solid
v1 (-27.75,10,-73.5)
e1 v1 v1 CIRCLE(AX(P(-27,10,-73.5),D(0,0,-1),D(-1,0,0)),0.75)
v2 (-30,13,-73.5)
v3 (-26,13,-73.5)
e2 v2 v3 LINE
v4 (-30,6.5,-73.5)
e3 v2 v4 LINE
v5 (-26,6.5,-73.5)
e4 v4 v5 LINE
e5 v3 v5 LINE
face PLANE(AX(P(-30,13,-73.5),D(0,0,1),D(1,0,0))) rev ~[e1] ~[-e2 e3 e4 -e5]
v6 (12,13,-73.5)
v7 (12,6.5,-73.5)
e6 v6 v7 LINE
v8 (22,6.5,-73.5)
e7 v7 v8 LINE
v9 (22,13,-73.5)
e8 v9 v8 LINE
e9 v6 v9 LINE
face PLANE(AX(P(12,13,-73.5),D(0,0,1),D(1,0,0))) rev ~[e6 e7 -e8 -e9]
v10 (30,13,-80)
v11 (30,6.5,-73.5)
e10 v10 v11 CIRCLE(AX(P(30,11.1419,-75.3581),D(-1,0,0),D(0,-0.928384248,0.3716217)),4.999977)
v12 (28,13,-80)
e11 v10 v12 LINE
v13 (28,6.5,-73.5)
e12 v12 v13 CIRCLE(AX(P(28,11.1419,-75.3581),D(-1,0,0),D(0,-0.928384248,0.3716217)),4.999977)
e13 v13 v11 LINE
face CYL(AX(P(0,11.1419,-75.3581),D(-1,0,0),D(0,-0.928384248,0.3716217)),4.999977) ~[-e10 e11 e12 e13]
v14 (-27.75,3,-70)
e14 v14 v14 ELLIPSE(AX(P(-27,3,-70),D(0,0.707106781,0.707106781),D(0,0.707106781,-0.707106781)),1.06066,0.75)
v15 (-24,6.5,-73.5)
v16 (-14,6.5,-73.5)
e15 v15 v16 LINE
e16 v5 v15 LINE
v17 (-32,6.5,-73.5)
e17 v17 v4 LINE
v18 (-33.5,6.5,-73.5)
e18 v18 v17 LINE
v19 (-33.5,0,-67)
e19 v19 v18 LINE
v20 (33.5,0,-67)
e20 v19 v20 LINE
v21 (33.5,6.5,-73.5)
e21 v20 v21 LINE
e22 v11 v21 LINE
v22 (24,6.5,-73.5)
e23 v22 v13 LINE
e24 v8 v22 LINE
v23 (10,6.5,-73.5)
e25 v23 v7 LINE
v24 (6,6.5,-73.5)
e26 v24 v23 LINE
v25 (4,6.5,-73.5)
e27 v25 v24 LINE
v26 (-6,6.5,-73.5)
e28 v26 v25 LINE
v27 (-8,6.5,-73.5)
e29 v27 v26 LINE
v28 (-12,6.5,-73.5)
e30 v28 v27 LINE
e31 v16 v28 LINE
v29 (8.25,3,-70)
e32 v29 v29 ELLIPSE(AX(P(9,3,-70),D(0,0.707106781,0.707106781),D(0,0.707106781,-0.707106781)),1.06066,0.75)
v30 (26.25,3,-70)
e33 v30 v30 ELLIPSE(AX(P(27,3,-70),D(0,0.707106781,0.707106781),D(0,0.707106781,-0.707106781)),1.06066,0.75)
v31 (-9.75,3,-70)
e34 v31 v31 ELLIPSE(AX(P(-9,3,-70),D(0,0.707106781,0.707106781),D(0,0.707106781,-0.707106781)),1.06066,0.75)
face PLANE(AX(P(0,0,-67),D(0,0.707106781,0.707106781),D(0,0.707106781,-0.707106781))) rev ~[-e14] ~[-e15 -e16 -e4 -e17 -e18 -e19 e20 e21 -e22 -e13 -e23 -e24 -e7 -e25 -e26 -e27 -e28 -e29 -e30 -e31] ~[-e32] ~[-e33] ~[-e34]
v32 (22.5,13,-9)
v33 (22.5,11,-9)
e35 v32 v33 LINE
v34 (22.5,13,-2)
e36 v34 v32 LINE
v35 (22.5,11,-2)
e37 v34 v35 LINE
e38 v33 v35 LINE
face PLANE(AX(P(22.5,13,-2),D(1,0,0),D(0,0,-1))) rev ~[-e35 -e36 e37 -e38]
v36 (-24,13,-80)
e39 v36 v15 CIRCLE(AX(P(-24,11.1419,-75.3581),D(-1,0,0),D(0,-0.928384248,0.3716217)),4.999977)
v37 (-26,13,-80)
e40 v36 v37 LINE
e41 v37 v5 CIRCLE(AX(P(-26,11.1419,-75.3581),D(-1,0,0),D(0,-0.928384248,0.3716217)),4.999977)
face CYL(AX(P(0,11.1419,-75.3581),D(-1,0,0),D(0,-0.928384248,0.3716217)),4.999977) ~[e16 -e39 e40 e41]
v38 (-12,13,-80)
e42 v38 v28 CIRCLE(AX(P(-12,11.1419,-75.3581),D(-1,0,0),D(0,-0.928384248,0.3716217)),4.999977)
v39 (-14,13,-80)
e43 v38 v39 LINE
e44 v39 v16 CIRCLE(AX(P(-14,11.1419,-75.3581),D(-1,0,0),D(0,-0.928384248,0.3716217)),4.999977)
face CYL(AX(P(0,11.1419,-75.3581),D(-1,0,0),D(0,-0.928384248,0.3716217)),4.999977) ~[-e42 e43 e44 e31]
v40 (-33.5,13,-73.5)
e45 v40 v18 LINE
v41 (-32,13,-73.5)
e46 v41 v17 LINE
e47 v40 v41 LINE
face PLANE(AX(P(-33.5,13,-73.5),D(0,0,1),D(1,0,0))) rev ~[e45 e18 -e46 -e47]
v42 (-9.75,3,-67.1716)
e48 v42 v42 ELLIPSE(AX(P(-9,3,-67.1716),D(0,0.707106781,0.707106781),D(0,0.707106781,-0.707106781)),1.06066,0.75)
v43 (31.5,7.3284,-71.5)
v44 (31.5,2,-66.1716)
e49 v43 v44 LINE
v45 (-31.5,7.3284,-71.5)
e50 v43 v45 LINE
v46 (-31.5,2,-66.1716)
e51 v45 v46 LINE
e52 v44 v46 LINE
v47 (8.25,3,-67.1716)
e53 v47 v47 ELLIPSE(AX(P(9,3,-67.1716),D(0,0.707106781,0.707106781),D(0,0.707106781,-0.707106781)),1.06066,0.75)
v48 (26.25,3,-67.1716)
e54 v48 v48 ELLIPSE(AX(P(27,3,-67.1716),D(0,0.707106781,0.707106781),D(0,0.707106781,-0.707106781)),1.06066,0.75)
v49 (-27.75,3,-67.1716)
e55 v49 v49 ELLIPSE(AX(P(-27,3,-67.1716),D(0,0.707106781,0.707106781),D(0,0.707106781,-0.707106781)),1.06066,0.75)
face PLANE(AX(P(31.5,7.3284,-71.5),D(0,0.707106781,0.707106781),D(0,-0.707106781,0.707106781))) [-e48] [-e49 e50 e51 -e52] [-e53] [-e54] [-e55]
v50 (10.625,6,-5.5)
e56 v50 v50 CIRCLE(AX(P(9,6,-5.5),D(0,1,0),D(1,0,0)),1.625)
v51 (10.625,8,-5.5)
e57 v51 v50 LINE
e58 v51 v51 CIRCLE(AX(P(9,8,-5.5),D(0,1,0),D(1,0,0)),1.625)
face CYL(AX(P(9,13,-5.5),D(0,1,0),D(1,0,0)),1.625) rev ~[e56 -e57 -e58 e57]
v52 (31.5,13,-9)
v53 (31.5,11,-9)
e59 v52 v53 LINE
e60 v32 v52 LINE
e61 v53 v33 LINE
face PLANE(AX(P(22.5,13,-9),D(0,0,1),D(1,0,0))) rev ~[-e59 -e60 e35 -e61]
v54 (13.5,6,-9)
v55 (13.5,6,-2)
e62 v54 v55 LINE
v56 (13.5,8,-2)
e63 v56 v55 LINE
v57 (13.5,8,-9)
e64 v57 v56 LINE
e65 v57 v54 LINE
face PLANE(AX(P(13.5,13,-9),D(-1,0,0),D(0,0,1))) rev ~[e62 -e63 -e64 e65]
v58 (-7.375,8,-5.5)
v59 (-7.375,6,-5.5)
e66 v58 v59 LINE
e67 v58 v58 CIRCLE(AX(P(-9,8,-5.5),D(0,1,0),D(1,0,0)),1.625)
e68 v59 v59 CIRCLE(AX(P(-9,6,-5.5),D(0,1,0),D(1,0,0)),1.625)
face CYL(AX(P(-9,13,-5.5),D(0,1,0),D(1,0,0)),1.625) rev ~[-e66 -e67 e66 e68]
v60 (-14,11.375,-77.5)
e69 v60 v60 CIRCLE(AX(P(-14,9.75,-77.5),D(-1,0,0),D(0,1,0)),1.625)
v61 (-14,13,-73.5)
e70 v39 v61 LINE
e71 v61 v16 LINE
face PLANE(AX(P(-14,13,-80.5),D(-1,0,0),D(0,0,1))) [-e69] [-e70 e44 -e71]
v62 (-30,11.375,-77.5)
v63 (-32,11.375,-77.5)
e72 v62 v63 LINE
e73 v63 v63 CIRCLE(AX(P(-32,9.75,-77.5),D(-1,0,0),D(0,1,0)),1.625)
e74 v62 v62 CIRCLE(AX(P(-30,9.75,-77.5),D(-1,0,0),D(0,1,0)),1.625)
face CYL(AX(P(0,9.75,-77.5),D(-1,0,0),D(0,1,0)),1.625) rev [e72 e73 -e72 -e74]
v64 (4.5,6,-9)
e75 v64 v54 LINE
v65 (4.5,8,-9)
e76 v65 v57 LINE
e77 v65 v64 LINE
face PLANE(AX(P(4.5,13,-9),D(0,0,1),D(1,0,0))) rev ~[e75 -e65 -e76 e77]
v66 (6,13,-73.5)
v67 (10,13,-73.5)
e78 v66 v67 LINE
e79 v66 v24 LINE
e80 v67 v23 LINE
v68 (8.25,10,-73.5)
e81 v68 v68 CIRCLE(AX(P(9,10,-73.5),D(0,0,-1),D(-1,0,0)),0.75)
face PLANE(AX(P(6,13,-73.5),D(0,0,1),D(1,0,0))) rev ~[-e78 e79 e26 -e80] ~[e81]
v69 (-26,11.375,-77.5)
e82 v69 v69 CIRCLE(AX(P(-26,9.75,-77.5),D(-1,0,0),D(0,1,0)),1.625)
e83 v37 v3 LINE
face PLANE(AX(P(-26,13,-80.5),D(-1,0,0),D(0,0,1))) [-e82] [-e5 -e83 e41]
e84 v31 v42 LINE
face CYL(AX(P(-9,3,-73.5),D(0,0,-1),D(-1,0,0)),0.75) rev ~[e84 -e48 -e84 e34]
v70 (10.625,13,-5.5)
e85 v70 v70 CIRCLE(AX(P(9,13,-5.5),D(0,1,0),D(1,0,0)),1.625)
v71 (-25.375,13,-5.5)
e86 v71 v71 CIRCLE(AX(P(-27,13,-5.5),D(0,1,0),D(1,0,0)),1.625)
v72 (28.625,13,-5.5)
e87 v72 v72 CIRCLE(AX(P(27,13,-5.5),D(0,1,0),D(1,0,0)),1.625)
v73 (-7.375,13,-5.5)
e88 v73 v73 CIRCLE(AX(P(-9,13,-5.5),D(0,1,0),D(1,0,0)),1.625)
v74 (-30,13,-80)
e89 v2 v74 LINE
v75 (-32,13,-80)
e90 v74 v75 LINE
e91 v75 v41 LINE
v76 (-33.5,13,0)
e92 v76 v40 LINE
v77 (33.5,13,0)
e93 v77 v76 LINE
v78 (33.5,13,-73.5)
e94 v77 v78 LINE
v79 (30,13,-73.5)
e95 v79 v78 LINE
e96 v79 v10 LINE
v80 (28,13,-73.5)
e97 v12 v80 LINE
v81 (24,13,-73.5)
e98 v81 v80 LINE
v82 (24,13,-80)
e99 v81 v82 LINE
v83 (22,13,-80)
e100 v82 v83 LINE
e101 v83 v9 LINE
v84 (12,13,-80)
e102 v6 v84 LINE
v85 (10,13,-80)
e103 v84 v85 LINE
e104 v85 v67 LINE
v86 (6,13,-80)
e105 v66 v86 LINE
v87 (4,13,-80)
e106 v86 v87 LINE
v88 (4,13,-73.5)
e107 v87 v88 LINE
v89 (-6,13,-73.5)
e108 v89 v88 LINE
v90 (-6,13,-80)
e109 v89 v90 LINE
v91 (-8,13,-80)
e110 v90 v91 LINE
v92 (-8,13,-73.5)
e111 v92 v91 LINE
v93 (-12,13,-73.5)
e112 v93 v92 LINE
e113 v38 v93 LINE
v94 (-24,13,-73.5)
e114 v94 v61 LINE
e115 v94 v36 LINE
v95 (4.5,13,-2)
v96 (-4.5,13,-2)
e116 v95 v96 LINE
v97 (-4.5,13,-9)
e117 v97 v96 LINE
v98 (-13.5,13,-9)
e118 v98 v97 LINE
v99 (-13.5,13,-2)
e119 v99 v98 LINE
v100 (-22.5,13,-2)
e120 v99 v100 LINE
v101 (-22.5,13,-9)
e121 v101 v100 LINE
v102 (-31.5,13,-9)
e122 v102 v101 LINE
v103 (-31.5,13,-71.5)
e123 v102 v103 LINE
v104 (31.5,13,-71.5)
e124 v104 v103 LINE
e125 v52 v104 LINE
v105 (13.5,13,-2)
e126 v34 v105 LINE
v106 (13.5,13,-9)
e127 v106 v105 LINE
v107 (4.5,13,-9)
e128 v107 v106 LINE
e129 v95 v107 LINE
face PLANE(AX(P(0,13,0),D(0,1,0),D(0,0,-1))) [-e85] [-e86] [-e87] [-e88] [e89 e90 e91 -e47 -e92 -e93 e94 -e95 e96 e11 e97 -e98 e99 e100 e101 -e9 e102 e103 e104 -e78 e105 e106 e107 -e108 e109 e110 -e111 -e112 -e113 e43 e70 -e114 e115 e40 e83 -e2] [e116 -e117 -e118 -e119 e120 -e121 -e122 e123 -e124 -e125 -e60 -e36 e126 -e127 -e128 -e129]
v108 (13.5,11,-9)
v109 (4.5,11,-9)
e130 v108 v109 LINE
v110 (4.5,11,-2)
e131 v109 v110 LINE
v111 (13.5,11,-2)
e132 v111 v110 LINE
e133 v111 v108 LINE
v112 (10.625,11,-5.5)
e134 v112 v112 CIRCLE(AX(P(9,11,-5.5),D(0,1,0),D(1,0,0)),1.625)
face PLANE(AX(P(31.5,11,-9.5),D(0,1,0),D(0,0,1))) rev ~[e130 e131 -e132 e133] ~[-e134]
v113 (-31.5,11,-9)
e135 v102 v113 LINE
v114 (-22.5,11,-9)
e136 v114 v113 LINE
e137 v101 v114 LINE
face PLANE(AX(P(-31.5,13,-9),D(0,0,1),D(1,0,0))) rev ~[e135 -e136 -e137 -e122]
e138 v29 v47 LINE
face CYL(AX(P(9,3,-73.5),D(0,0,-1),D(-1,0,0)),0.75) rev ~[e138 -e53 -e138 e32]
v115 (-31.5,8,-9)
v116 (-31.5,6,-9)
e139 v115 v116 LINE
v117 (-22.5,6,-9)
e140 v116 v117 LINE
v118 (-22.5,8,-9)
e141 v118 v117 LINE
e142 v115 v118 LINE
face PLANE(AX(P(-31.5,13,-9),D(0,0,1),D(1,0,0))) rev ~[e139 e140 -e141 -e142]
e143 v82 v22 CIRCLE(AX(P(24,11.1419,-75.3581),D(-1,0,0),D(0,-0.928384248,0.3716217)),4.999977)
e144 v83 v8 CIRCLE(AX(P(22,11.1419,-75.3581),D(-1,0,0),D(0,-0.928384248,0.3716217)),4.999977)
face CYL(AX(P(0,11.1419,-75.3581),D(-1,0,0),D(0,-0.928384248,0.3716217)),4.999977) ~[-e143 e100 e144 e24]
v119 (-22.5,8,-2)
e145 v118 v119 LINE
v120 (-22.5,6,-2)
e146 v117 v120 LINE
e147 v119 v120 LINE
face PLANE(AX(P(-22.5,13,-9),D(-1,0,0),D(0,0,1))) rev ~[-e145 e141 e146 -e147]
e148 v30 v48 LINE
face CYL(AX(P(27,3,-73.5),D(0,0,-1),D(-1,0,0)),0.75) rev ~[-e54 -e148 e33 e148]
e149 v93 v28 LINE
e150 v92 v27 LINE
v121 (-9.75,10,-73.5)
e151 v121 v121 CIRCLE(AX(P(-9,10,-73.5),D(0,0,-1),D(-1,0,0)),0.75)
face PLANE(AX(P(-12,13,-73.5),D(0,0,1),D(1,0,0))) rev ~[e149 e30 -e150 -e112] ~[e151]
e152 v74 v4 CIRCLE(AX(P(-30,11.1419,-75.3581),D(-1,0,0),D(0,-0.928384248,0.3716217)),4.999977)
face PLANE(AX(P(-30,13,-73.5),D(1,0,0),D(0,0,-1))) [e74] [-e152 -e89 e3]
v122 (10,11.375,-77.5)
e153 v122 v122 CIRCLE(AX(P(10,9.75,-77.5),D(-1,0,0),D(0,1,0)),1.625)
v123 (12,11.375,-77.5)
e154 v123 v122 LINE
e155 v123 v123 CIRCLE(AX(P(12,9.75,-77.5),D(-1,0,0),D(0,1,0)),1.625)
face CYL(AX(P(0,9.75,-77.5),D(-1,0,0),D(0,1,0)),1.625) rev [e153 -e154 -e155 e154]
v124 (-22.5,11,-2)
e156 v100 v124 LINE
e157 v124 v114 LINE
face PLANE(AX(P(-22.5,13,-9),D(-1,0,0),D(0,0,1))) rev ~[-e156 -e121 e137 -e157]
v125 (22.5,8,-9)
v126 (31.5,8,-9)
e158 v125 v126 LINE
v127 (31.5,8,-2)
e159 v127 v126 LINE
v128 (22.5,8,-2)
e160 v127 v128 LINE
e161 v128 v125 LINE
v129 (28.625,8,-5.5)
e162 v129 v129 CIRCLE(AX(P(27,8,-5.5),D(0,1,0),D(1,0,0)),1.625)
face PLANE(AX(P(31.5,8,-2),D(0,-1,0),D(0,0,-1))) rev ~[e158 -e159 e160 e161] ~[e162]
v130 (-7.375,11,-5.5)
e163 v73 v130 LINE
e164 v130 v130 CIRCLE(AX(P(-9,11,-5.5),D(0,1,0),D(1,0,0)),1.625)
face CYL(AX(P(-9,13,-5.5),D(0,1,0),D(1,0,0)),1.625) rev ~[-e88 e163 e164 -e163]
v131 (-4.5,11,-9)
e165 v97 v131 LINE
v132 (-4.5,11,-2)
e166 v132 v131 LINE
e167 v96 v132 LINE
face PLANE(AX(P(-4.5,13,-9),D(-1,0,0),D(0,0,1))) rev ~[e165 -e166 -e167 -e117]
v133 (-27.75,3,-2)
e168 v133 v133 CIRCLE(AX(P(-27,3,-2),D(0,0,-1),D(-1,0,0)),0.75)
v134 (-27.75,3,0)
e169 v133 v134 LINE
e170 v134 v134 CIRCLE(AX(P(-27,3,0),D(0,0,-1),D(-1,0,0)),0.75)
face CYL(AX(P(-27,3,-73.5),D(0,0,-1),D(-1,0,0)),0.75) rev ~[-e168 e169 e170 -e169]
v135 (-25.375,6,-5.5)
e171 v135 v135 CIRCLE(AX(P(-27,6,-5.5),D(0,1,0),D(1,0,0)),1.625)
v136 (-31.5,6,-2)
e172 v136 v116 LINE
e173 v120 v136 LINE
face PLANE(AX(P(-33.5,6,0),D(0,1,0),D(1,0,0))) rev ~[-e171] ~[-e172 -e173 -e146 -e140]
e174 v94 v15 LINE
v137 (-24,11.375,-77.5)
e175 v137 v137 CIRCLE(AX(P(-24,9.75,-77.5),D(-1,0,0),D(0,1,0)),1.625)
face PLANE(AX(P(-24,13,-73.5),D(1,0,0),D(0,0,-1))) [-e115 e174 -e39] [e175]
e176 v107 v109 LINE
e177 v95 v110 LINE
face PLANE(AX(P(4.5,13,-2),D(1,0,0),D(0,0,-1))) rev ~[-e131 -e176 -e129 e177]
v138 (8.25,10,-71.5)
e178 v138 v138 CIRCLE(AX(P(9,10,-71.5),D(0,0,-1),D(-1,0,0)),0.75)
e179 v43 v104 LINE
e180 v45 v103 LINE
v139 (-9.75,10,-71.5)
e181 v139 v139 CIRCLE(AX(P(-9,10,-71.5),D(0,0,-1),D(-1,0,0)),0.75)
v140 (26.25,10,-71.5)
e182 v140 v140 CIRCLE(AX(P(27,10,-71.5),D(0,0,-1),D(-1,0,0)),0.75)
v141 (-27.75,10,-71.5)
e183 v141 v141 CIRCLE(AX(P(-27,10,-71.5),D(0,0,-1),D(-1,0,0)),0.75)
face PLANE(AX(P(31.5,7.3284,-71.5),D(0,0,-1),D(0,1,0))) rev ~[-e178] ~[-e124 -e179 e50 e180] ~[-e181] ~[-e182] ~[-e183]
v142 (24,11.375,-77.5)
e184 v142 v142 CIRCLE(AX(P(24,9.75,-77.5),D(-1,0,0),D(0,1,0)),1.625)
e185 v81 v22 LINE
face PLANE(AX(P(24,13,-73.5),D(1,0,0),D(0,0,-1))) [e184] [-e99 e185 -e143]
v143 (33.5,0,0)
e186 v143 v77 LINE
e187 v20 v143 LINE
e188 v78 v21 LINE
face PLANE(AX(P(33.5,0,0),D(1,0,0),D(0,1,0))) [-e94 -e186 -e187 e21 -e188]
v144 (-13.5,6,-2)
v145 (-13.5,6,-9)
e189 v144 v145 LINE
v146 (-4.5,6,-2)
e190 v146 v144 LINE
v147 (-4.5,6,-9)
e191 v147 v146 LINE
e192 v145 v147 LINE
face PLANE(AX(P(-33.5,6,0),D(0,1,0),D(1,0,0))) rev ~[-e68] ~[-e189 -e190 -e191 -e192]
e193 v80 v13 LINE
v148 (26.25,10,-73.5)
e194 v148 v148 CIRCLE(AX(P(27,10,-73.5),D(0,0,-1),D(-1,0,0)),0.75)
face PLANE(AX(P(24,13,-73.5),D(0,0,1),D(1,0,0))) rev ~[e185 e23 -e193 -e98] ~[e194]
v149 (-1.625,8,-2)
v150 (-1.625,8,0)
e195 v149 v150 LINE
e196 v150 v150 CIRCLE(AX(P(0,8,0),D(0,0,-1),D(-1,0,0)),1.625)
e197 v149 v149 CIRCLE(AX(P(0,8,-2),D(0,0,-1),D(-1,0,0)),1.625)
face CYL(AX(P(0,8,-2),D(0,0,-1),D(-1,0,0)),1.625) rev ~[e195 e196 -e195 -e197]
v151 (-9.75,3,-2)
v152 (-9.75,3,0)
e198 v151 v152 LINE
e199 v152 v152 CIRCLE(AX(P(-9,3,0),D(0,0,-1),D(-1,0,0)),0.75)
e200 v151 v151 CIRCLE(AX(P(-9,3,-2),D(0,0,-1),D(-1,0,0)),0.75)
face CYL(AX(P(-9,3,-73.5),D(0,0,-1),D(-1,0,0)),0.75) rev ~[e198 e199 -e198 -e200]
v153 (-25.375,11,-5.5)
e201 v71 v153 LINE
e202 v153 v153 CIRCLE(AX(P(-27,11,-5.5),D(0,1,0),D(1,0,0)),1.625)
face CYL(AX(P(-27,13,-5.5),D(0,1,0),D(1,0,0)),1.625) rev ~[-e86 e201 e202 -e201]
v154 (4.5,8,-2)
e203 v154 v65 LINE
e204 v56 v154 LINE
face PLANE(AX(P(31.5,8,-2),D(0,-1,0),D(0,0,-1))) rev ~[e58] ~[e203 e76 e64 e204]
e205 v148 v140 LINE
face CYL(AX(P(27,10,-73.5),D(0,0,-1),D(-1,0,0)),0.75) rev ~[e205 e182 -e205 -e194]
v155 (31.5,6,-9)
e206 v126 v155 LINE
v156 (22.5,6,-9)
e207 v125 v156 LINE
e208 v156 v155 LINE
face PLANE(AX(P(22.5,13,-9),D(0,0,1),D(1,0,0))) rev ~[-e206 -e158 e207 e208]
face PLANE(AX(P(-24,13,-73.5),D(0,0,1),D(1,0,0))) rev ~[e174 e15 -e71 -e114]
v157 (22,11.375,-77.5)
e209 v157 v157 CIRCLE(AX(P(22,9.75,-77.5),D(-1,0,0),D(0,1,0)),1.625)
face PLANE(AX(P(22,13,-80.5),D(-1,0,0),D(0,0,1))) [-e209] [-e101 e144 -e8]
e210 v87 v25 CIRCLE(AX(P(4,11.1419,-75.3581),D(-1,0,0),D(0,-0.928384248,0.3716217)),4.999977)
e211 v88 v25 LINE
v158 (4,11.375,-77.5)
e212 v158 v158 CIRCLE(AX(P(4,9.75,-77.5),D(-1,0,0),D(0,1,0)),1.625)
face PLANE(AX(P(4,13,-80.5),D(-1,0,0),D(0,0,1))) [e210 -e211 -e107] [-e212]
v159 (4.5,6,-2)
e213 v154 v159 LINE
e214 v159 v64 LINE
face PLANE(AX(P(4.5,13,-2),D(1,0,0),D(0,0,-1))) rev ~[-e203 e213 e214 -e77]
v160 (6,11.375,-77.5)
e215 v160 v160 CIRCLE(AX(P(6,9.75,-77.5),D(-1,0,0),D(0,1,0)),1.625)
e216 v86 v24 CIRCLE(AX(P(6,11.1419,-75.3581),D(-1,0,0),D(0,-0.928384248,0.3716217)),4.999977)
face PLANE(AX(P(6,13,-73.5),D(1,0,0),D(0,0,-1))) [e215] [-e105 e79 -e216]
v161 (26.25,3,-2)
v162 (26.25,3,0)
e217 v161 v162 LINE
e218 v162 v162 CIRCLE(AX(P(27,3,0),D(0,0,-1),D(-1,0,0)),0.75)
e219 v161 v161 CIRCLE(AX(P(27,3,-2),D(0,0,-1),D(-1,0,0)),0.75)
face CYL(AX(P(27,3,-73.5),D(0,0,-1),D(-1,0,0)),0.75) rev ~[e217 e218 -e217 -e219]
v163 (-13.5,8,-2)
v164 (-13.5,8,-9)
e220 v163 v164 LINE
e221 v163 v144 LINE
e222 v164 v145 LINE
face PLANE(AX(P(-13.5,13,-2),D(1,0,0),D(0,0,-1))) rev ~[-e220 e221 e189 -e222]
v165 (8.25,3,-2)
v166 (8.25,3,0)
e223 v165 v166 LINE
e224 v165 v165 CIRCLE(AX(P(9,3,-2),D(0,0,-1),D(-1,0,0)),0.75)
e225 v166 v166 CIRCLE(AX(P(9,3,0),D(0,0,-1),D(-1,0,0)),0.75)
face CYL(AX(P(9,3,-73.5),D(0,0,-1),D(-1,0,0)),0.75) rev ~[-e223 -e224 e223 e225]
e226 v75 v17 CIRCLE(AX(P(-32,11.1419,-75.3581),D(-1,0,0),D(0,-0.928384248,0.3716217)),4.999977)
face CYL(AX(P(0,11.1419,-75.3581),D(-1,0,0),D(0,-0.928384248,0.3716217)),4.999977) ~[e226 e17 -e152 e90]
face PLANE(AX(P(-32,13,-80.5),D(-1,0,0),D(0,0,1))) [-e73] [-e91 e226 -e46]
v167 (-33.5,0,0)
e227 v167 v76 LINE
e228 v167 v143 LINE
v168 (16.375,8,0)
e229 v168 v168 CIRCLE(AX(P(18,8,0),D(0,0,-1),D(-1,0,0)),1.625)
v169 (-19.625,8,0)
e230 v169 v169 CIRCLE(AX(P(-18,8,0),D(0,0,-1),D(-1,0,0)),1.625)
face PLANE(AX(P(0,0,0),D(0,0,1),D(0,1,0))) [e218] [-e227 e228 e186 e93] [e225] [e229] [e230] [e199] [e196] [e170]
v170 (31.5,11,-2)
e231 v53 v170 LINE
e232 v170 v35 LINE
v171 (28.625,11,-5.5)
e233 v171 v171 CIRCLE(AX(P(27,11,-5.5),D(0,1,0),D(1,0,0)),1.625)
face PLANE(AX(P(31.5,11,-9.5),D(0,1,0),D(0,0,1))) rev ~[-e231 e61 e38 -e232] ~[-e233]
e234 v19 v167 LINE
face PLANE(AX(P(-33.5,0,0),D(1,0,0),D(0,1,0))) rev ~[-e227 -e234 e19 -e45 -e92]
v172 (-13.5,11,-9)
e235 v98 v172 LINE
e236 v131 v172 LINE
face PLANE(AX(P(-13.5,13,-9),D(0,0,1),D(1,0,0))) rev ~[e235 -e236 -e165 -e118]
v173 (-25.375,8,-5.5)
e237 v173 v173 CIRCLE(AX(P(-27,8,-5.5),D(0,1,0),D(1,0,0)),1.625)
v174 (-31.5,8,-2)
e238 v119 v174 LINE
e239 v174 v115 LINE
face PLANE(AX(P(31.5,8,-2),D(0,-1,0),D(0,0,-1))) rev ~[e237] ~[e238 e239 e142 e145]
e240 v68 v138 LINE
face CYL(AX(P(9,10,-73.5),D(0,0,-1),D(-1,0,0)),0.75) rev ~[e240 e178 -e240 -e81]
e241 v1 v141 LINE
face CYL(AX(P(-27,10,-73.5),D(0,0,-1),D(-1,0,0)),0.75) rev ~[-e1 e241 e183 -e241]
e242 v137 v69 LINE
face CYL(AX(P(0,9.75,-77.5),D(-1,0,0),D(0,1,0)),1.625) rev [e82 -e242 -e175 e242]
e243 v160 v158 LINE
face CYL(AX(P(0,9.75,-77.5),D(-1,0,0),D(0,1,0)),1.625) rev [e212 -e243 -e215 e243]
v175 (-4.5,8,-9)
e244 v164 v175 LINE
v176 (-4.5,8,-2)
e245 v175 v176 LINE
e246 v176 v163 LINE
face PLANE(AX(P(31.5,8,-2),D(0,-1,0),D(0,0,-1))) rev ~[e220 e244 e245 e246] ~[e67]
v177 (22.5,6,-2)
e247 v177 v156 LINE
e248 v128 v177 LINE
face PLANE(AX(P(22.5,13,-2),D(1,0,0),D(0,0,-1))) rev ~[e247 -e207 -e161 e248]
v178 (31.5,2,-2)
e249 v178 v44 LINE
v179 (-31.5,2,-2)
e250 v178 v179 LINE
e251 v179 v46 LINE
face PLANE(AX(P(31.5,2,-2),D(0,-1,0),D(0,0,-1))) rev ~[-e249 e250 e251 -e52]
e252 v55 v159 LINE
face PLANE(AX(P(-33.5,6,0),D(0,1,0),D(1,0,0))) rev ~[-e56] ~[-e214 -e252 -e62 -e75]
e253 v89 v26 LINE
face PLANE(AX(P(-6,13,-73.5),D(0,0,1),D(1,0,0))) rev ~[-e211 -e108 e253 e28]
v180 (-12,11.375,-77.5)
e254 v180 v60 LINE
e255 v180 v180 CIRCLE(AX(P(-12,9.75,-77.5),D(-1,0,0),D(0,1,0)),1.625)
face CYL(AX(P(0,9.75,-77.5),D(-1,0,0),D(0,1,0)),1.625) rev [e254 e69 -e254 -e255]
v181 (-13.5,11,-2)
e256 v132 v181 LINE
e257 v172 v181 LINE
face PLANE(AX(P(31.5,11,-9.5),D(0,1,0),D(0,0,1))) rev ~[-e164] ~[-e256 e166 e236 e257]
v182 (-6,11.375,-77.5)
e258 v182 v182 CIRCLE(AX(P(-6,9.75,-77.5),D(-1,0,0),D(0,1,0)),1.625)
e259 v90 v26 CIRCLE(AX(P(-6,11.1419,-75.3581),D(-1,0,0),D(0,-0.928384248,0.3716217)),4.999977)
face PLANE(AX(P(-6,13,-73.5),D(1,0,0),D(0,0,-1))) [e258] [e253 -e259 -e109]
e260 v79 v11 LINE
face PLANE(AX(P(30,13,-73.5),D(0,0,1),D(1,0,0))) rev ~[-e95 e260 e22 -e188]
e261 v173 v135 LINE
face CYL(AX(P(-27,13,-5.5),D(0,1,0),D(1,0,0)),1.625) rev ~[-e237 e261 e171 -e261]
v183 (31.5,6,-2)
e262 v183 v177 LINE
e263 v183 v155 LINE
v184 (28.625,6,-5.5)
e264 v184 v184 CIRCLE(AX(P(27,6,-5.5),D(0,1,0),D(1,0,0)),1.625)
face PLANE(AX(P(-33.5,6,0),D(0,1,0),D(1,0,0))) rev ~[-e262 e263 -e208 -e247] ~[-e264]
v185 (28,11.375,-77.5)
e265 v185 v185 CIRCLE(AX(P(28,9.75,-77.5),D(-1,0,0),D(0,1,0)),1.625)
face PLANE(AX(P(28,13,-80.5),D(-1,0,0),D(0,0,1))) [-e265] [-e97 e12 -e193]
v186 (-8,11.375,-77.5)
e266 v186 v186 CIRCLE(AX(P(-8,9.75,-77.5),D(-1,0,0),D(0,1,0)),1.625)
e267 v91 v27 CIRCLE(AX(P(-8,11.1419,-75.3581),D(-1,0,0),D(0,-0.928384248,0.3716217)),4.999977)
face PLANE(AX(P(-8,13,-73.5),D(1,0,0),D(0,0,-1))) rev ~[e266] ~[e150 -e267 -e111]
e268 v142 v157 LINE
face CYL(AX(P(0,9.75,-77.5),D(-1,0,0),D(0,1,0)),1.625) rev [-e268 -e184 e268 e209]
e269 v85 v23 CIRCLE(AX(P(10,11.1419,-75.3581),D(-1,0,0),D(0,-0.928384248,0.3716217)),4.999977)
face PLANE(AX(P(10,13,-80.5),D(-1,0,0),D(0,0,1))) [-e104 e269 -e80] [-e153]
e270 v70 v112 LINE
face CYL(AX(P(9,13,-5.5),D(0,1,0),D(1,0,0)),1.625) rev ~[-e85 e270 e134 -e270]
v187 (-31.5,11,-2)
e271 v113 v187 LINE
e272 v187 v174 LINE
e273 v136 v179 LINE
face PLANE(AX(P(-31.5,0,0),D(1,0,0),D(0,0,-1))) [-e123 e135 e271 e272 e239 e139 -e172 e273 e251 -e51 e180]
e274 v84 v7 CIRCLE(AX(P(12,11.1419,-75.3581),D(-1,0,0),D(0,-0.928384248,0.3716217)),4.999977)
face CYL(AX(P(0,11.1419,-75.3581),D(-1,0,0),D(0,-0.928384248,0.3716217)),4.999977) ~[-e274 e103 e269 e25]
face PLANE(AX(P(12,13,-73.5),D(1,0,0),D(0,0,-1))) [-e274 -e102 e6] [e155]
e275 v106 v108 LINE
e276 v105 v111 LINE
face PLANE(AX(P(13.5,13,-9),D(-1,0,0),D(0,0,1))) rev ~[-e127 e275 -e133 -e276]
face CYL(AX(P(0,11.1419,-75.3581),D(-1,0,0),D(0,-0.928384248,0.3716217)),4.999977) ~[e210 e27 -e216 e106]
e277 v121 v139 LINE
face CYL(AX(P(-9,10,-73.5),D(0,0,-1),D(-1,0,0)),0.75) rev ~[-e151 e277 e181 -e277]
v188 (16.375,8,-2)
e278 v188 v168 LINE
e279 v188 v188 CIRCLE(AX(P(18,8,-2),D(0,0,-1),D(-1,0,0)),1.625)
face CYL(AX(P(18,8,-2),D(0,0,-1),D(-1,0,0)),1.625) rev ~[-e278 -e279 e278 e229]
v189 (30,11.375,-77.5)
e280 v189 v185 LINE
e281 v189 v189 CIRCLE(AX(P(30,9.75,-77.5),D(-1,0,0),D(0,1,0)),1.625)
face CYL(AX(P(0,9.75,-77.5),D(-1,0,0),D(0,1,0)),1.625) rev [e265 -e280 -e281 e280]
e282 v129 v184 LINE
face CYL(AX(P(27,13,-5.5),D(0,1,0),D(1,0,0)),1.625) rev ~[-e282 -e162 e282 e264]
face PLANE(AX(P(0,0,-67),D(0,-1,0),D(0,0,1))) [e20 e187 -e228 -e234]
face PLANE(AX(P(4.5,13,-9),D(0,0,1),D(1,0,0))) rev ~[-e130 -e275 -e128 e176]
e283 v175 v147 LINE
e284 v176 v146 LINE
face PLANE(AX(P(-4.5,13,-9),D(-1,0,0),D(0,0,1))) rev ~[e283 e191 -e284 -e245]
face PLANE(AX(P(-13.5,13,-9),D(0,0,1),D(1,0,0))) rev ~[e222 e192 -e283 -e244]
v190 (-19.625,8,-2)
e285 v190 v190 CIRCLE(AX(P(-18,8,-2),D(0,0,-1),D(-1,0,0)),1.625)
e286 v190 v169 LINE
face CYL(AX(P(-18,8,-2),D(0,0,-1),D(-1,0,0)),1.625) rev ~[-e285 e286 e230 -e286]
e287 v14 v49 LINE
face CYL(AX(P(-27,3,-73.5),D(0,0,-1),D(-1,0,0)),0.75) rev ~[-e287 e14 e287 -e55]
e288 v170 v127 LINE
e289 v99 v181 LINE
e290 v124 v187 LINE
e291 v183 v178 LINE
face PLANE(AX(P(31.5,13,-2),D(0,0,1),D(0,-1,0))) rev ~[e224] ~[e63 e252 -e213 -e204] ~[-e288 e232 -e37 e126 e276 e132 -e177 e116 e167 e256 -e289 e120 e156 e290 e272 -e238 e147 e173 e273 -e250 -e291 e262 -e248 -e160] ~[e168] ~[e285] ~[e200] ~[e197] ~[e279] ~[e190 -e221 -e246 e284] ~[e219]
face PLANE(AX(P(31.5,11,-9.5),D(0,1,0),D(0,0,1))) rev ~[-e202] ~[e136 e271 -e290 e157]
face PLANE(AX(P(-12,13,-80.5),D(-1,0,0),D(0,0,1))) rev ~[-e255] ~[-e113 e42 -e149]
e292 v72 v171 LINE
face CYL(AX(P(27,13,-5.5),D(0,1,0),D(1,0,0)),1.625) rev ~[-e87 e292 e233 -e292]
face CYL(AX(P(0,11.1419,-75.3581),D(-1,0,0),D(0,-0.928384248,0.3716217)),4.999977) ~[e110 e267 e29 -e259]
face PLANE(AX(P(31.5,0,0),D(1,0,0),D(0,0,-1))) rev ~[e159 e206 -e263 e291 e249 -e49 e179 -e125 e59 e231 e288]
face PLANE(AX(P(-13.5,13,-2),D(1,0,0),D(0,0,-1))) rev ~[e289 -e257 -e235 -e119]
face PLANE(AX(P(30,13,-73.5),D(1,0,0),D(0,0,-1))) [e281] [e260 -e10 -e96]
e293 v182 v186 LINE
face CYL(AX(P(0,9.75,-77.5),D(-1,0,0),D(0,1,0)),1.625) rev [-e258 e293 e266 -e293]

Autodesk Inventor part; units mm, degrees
ref_plane "YZ Plane" through (0, 0, 0) normal (1, 0, 0) x (0, 1, 0)
sketch "Sketch1" plane through (0, 0, 0) normal (1, 0, 0) x (0, 1, 0)
  line L0 (-2.6, 0) -> (15.6, 0) projected
  line L1 (0, -98.5723) -> (0, 16.4287) projected
  line L2 (13, 0) -> (0, 0)
  line L3 (13, 0) -> (13, -80)
  line L4 (0, 0) -> (0, -67)
  line L5 (0, -67) -> (6.5, -73.5)
  line L6 (0, -67) -> (9.1924, -67) construction
  arc A0 (6.5, -73.5) -> (13, -80) centre (11.1419, -75.3581) ccw
  circle A1 centre (9.75, -77.5) radius 1.625
  dimension "d2" = 13
  dimension "d6" = 80
  dimension "d7" = 67
  dimension "d8" = 45
  dimension "d9" = 6.5
  dimension "d10" = 5
  dimension "d11" = 3.25
  dimension "d12" = 3.25
  dimension "d13" = 2.5
extrude "Extrusion1" add sketch "Sketch1" along normal mid plane 67
sketch "Sketch3" plane through (-33.5, 13, 0) normal (0, 1, 0) x (1, 0, 0)
  line L0 (0, 73.5) -> (67, 73.5) projected
  line L1 (0, 0) -> (0, 80) projected
  line L2 (67, 80) -> (67, 0) projected
  line L3 (1.5, 73.5) -> (0, 73.5)
  line L4 (0, 73.5) -> (0, 80.5)
  line L5 (0, 80.5) -> (1.5, 80.5)
  line L6 (1.5, 80.5) -> (1.5, 73.5)
  line L7 (7.5, 73.5) -> (3.5, 73.5)
  line L8 (3.5, 73.5) -> (3.5, 80.5)
  line L9 (3.5, 80.5) -> (7.5, 80.5)
  line L10 (7.5, 80.5) -> (7.5, 73.5)
  line L11 (19.5, 73.5) -> (9.5, 73.5)
  line L12 (9.5, 73.5) -> (9.5, 80.5)
  line L13 (9.5, 80.5) -> (19.5, 80.5)
  line L14 (19.5, 80.5) -> (19.5, 73.5)
  line L15 (25.5, 80.5) -> (21.5, 80.5)
  line L16 (21.5, 80.5) -> (21.5, 73.5)
  line L17 (21.5, 73.5) -> (25.5, 73.5)
  line L18 (25.5, 73.5) -> (25.5, 80.5)
  line L19 (37.5, 73.5) -> (27.5, 73.5)
  line L20 (27.5, 73.5) -> (27.5, 80.5)
  line L21 (27.5, 80.5) -> (37.5, 80.5)
  line L22 (37.5, 80.5) -> (37.5, 73.5)
  line L23 (43.5, 73.5) -> (39.5, 73.5)
  line L24 (39.5, 73.5) -> (39.5, 80.5)
  line L25 (39.5, 80.5) -> (43.5, 80.5)
  line L26 (43.5, 80.5) -> (43.5, 73.5)
  line L27 (55.5, 73.5) -> (45.5, 73.5)
  line L28 (45.5, 73.5) -> (45.5, 80.5)
  line L29 (45.5, 80.5) -> (55.5, 80.5)
  line L30 (55.5, 80.5) -> (55.5, 73.5)
  line L31 (61.5, 73.5) -> (57.5, 73.5)
  line L32 (57.5, 73.5) -> (57.5, 80.5)
  line L33 (57.5, 80.5) -> (61.5, 80.5)
  line L34 (61.5, 80.5) -> (61.5, 73.5)
  line L35 (67, 73.5) -> (63.5, 73.5)
  line L36 (63.5, 73.5) -> (63.5, 80.5)
  line L37 (63.5, 80.5) -> (67, 80.5)
  line L38 (67, 80.5) -> (67, 73.5)
  point P0 (33.5, 0)
  dimension "d52" = 1.5
  dimension "d53" = 7
  dimension "d54" = 4
  dimension "d55" = 7
  dimension "d56" = 2
  dimension "d57" = 10
  dimension "d58" = 7
  dimension "d59" = 2
  dimension "d60" = 4
  dimension "d61" = 7
  dimension "d62" = 2
  dimension "d63" = 10
  dimension "d64" = 7
  dimension "d65" = 2
  dimension "d66" = 4
  dimension "d67" = 2
  dimension "d68" = 7
  dimension "d69" = 10
  dimension "d70" = 7
  dimension "d71" = 2
  dimension "d72" = 4
  dimension "d73" = 7
  dimension "d74" = 2
  dimension "d75" = 7
  dimension "d76" = 2
extrude "Extrusion3" cut sketch "Sketch3" against normal blind 13
ref_plane "Work Plane1" through (31.5, 0, 0) normal (1, 0, 0) x (0, 0, -1)
sketch "Sketch4" plane through (31.5, 0, 0) normal (1, 0, 0) x (0, 0, -1)
  line L0 (2, 13) -> (2, 2)
  line L1 (2, 2) -> (66.1716, 2)
  line L2 (0, 13) -> (73.5, 13) projected
  line L3 (0, 0) -> (0, 13) projected
  line L4 (67, 0) -> (0, 0) projected
  line L5 (73.5, 6.5) -> (67, 0) projected
  line L6 (71.5, 7.3284) -> (71.5, 13)
  line L7 (73.5, 13) -> (73.5, 6.5) projected
  line L8 (71.5, 7.3284) -> (66.1716, 2)
  dimension "d80" = 2
  dimension "d81" = 2
  dimension "d82" = 2
  dimension "d83" = 2
  dimension "d84" = 2
extrude "Extrusion4" cut sketch "Sketch4" against normal blind 63 contours L2 L6 L8 L1 L0
sketch "Sketch5" plane through (4, 13, -73.5) normal (0, 0, -1) x (-1, 0, 0)
  line L0 (4, -15.6) -> (4, 2.6) projected
  line L1 (50.9, -13) -> (-42.9, -13) projected
  line L2 (-29.5, -6.5) -> (-29.5, 0) projected
  line L3 (37.5, 0) -> (37.5, -6.5) projected
  line L4 (-18, 0) -> (-8, 0) projected
  circle A0 centre (-23, -3) radius 0.75
  circle A1 centre (-5, -3) radius 0.75
  circle A2 centre (13, -3) radius 0.75
  line L5 (0, 0) -> (10, 0) projected
  circle A3 centre (31, -3) radius 0.75
  dimension "d88" = 1.5
  dimension "d89" = 3
  dimension "d90" = 6.5
  dimension "d94" = 1.5
  dimension "d95" = 3
  dimension "d96" = 18
  dimension "d100" = 1.5
  dimension "d101" = 3
  dimension "d102" = 18
  dimension "d106" = 1.5
  dimension "d108" = 3
  dimension "d109" = 18
ref_plane "Work Plane2" through (-33.5, 0, -33.5) normal (0, 0, 1) x (1, 0, 0)
extrude "Extrusion11" cut sketch "Sketch5" against normal blind 2
sketch "Sketch13" plane through (22, 13, -73.5) normal (0, 0, -1) x (-1, 0, 0)
  line L0 (55.5, -13) -> (-11.5, -13) projected
  circle A0 centre (-5, -10) radius 0.75
  circle A1 centre (13, -10) radius 0.75
  circle A2 centre (31, -10) radius 0.75
  circle A3 centre (49, -10) radius 0.75
  line L1 (-11.5, -13) -> (-11.5, -6.5) projected
  line L2 (55.5, -6.5) -> (55.5, -13) projected
  point P0 (22, -13)
  dimension "d159" = 1.5
  dimension "d160" = 1.5
  dimension "d161" = 1.5
  dimension "d162" = 1.5
  dimension "d163" = 3
  dimension "d164" = 6.5
  dimension "d165" = 3
  dimension "d166" = 18
  dimension "d167" = 3
  dimension "d168" = 18
  dimension "d169" = 3
  dimension "d170" = 18
extrude "Extrusion12" cut sketch "Sketch13" against normal through all
sketch "Sketch22" plane through (-33.5, 13, 0) normal (0, 1, 0) x (1, 0, 0)
  line L0 (65, 2) -> (2, 2) projected
  line L1 (2, 9) -> (11, 9)
  line L2 (11, 9) -> (11, 2)
  line L3 (11, 2) -> (2, 2)
  line L4 (2, 2) -> (2, 9)
  circle A0 centre (6.5, 67.1716) radius 0.75 projected
  line L5 (65, 2) -> (65, 66.1716) projected
  line L6 (65, 66.1716) -> (2, 66.1716) projected
  line L7 (2, 66.1716) -> (2, 2) projected
  line L8 (65, 2) -> (2, 2) projected
  line L9 (20, 9) -> (29, 9)
  line L10 (29, 9) -> (29, 2)
  line L11 (29, 2) -> (20, 2)
  line L12 (20, 2) -> (20, 9)
  line L13 (56, 9) -> (65, 9)
  line L14 (65, 9) -> (65, 2)
  line L15 (65, 2) -> (56, 2)
  line L16 (56, 2) -> (56, 9)
  line L17 (38, 9) -> (47, 9)
  line L18 (47, 9) -> (47, 2)
  line L19 (47, 2) -> (38, 2)
  line L20 (38, 2) -> (38, 9)
  dimension "d275" = 9
  dimension "d278" = 7
  dimension "d279" = 9
  dimension "d280" = 7
  dimension "d281" = 9
  dimension "d282" = 9
  dimension "d283" = 7
  dimension "d284" = 9
  dimension "d285" = 7
  dimension "d286" = 9
extrude "Extrusion19" add sketch "Sketch22" against normal blind 7 contours L0 L16 L13 L5 | L0 L20 L17 L18 | L0 L12 L9 L10 | L1 L2 L0 L4
sketch "Sketch23" plane through (31.5, 0, 0) normal (-1, 0, 0) x (0, 0, 1)
  line L0 (-9.5, 11) -> (-2, 11)
  line L1 (-2, 11) -> (-2, 8)
  line L2 (-2, 8) -> (-9.5, 8)
  line L3 (-9.5, 8) -> (-9.5, 11)
  line L4 (-2, 13) -> (-2, 6) projected
  line L5 (-2, 13) -> (-9, 13) projected
  point P0 (0, 0)
  dimension "d289" = 7.5
  dimension "d290" = 3
  dimension "d291" = 2
extrude "Extrusion20" cut sketch "Sketch23" along normal blind 63
sketch "Sketch24" plane through (-33.5, 13, 0) normal (0, 1, 0) x (1, 0, 0)
  line L0 (56, 9) -> (65, 9) projected
  line L1 (56, 2) -> (56, 9) projected
  line L2 (47, 9) -> (47, 2) projected
  line L3 (38, 9) -> (47, 9) projected
  line L4 (29, 9) -> (29, 2) projected
  line L5 (20, 9) -> (29, 9) projected
  line L6 (11, 9) -> (11, 2) projected
  line L7 (2, 9) -> (11, 9) projected
  circle A0 centre (60.5, 5.5) radius 1.625
  circle A1 centre (42.5, 5.5) radius 1.625
  circle A2 centre (24.5, 5.5) radius 1.625
  circle A3 centre (6.5, 5.5) radius 1.625
  point P0 (33.5, 0)
  dimension "d294" = 3.25
  dimension "d295" = 3.5
  dimension "d296" = 4.5
  dimension "d297" = 3.25
  dimension "d298" = 3.5
  dimension "d299" = 4.5
  dimension "d301" = 3.25
  dimension "d302" = 3.5
  dimension "d303" = 4.5
  dimension "d304" = 3.25
  dimension "d305" = 3.5
  dimension "d306" = 4.5
extrude "Extrusion21" cut sketch "Sketch24" against normal blind 7
sketch "Sketch26" plane through (31.5, 2, -2) normal (0, 0, -1) x (-1, 0, 0)
  line L0 (9, 6) -> (9, 4) projected
  line L1 (9, 11) -> (9, 9) projected
  line L2 (0, 6) -> (9, 6) projected
  line L3 (0, 9) -> (9, 9) projected
  line L4 (0, 9) -> (9, 9) projected
  line L5 (18, 9) -> (18, 11) projected
  line L6 (18, 6) -> (27, 6) projected
  line L7 (36, 6) -> (45, 6) projected
  line L8 (54, 6) -> (63, 6) projected
  circle A0 centre (13.5, 6) radius 1.625
  circle A1 centre (31.5, 6) radius 1.625
  circle A2 centre (49.5, 6) radius 1.625
  point P0 (31.5, -2)
  dimension "d311" = 3.25
  dimension "d313" = 4.5
  dimension "d314" = 3.25
  dimension "d316" = 4.5
  dimension "d317" = 3.25
  dimension "d319" = 4.5
extrude "Extrusion22" cut sketch "Sketch26" against normal blind 2
properties part number "palm"
